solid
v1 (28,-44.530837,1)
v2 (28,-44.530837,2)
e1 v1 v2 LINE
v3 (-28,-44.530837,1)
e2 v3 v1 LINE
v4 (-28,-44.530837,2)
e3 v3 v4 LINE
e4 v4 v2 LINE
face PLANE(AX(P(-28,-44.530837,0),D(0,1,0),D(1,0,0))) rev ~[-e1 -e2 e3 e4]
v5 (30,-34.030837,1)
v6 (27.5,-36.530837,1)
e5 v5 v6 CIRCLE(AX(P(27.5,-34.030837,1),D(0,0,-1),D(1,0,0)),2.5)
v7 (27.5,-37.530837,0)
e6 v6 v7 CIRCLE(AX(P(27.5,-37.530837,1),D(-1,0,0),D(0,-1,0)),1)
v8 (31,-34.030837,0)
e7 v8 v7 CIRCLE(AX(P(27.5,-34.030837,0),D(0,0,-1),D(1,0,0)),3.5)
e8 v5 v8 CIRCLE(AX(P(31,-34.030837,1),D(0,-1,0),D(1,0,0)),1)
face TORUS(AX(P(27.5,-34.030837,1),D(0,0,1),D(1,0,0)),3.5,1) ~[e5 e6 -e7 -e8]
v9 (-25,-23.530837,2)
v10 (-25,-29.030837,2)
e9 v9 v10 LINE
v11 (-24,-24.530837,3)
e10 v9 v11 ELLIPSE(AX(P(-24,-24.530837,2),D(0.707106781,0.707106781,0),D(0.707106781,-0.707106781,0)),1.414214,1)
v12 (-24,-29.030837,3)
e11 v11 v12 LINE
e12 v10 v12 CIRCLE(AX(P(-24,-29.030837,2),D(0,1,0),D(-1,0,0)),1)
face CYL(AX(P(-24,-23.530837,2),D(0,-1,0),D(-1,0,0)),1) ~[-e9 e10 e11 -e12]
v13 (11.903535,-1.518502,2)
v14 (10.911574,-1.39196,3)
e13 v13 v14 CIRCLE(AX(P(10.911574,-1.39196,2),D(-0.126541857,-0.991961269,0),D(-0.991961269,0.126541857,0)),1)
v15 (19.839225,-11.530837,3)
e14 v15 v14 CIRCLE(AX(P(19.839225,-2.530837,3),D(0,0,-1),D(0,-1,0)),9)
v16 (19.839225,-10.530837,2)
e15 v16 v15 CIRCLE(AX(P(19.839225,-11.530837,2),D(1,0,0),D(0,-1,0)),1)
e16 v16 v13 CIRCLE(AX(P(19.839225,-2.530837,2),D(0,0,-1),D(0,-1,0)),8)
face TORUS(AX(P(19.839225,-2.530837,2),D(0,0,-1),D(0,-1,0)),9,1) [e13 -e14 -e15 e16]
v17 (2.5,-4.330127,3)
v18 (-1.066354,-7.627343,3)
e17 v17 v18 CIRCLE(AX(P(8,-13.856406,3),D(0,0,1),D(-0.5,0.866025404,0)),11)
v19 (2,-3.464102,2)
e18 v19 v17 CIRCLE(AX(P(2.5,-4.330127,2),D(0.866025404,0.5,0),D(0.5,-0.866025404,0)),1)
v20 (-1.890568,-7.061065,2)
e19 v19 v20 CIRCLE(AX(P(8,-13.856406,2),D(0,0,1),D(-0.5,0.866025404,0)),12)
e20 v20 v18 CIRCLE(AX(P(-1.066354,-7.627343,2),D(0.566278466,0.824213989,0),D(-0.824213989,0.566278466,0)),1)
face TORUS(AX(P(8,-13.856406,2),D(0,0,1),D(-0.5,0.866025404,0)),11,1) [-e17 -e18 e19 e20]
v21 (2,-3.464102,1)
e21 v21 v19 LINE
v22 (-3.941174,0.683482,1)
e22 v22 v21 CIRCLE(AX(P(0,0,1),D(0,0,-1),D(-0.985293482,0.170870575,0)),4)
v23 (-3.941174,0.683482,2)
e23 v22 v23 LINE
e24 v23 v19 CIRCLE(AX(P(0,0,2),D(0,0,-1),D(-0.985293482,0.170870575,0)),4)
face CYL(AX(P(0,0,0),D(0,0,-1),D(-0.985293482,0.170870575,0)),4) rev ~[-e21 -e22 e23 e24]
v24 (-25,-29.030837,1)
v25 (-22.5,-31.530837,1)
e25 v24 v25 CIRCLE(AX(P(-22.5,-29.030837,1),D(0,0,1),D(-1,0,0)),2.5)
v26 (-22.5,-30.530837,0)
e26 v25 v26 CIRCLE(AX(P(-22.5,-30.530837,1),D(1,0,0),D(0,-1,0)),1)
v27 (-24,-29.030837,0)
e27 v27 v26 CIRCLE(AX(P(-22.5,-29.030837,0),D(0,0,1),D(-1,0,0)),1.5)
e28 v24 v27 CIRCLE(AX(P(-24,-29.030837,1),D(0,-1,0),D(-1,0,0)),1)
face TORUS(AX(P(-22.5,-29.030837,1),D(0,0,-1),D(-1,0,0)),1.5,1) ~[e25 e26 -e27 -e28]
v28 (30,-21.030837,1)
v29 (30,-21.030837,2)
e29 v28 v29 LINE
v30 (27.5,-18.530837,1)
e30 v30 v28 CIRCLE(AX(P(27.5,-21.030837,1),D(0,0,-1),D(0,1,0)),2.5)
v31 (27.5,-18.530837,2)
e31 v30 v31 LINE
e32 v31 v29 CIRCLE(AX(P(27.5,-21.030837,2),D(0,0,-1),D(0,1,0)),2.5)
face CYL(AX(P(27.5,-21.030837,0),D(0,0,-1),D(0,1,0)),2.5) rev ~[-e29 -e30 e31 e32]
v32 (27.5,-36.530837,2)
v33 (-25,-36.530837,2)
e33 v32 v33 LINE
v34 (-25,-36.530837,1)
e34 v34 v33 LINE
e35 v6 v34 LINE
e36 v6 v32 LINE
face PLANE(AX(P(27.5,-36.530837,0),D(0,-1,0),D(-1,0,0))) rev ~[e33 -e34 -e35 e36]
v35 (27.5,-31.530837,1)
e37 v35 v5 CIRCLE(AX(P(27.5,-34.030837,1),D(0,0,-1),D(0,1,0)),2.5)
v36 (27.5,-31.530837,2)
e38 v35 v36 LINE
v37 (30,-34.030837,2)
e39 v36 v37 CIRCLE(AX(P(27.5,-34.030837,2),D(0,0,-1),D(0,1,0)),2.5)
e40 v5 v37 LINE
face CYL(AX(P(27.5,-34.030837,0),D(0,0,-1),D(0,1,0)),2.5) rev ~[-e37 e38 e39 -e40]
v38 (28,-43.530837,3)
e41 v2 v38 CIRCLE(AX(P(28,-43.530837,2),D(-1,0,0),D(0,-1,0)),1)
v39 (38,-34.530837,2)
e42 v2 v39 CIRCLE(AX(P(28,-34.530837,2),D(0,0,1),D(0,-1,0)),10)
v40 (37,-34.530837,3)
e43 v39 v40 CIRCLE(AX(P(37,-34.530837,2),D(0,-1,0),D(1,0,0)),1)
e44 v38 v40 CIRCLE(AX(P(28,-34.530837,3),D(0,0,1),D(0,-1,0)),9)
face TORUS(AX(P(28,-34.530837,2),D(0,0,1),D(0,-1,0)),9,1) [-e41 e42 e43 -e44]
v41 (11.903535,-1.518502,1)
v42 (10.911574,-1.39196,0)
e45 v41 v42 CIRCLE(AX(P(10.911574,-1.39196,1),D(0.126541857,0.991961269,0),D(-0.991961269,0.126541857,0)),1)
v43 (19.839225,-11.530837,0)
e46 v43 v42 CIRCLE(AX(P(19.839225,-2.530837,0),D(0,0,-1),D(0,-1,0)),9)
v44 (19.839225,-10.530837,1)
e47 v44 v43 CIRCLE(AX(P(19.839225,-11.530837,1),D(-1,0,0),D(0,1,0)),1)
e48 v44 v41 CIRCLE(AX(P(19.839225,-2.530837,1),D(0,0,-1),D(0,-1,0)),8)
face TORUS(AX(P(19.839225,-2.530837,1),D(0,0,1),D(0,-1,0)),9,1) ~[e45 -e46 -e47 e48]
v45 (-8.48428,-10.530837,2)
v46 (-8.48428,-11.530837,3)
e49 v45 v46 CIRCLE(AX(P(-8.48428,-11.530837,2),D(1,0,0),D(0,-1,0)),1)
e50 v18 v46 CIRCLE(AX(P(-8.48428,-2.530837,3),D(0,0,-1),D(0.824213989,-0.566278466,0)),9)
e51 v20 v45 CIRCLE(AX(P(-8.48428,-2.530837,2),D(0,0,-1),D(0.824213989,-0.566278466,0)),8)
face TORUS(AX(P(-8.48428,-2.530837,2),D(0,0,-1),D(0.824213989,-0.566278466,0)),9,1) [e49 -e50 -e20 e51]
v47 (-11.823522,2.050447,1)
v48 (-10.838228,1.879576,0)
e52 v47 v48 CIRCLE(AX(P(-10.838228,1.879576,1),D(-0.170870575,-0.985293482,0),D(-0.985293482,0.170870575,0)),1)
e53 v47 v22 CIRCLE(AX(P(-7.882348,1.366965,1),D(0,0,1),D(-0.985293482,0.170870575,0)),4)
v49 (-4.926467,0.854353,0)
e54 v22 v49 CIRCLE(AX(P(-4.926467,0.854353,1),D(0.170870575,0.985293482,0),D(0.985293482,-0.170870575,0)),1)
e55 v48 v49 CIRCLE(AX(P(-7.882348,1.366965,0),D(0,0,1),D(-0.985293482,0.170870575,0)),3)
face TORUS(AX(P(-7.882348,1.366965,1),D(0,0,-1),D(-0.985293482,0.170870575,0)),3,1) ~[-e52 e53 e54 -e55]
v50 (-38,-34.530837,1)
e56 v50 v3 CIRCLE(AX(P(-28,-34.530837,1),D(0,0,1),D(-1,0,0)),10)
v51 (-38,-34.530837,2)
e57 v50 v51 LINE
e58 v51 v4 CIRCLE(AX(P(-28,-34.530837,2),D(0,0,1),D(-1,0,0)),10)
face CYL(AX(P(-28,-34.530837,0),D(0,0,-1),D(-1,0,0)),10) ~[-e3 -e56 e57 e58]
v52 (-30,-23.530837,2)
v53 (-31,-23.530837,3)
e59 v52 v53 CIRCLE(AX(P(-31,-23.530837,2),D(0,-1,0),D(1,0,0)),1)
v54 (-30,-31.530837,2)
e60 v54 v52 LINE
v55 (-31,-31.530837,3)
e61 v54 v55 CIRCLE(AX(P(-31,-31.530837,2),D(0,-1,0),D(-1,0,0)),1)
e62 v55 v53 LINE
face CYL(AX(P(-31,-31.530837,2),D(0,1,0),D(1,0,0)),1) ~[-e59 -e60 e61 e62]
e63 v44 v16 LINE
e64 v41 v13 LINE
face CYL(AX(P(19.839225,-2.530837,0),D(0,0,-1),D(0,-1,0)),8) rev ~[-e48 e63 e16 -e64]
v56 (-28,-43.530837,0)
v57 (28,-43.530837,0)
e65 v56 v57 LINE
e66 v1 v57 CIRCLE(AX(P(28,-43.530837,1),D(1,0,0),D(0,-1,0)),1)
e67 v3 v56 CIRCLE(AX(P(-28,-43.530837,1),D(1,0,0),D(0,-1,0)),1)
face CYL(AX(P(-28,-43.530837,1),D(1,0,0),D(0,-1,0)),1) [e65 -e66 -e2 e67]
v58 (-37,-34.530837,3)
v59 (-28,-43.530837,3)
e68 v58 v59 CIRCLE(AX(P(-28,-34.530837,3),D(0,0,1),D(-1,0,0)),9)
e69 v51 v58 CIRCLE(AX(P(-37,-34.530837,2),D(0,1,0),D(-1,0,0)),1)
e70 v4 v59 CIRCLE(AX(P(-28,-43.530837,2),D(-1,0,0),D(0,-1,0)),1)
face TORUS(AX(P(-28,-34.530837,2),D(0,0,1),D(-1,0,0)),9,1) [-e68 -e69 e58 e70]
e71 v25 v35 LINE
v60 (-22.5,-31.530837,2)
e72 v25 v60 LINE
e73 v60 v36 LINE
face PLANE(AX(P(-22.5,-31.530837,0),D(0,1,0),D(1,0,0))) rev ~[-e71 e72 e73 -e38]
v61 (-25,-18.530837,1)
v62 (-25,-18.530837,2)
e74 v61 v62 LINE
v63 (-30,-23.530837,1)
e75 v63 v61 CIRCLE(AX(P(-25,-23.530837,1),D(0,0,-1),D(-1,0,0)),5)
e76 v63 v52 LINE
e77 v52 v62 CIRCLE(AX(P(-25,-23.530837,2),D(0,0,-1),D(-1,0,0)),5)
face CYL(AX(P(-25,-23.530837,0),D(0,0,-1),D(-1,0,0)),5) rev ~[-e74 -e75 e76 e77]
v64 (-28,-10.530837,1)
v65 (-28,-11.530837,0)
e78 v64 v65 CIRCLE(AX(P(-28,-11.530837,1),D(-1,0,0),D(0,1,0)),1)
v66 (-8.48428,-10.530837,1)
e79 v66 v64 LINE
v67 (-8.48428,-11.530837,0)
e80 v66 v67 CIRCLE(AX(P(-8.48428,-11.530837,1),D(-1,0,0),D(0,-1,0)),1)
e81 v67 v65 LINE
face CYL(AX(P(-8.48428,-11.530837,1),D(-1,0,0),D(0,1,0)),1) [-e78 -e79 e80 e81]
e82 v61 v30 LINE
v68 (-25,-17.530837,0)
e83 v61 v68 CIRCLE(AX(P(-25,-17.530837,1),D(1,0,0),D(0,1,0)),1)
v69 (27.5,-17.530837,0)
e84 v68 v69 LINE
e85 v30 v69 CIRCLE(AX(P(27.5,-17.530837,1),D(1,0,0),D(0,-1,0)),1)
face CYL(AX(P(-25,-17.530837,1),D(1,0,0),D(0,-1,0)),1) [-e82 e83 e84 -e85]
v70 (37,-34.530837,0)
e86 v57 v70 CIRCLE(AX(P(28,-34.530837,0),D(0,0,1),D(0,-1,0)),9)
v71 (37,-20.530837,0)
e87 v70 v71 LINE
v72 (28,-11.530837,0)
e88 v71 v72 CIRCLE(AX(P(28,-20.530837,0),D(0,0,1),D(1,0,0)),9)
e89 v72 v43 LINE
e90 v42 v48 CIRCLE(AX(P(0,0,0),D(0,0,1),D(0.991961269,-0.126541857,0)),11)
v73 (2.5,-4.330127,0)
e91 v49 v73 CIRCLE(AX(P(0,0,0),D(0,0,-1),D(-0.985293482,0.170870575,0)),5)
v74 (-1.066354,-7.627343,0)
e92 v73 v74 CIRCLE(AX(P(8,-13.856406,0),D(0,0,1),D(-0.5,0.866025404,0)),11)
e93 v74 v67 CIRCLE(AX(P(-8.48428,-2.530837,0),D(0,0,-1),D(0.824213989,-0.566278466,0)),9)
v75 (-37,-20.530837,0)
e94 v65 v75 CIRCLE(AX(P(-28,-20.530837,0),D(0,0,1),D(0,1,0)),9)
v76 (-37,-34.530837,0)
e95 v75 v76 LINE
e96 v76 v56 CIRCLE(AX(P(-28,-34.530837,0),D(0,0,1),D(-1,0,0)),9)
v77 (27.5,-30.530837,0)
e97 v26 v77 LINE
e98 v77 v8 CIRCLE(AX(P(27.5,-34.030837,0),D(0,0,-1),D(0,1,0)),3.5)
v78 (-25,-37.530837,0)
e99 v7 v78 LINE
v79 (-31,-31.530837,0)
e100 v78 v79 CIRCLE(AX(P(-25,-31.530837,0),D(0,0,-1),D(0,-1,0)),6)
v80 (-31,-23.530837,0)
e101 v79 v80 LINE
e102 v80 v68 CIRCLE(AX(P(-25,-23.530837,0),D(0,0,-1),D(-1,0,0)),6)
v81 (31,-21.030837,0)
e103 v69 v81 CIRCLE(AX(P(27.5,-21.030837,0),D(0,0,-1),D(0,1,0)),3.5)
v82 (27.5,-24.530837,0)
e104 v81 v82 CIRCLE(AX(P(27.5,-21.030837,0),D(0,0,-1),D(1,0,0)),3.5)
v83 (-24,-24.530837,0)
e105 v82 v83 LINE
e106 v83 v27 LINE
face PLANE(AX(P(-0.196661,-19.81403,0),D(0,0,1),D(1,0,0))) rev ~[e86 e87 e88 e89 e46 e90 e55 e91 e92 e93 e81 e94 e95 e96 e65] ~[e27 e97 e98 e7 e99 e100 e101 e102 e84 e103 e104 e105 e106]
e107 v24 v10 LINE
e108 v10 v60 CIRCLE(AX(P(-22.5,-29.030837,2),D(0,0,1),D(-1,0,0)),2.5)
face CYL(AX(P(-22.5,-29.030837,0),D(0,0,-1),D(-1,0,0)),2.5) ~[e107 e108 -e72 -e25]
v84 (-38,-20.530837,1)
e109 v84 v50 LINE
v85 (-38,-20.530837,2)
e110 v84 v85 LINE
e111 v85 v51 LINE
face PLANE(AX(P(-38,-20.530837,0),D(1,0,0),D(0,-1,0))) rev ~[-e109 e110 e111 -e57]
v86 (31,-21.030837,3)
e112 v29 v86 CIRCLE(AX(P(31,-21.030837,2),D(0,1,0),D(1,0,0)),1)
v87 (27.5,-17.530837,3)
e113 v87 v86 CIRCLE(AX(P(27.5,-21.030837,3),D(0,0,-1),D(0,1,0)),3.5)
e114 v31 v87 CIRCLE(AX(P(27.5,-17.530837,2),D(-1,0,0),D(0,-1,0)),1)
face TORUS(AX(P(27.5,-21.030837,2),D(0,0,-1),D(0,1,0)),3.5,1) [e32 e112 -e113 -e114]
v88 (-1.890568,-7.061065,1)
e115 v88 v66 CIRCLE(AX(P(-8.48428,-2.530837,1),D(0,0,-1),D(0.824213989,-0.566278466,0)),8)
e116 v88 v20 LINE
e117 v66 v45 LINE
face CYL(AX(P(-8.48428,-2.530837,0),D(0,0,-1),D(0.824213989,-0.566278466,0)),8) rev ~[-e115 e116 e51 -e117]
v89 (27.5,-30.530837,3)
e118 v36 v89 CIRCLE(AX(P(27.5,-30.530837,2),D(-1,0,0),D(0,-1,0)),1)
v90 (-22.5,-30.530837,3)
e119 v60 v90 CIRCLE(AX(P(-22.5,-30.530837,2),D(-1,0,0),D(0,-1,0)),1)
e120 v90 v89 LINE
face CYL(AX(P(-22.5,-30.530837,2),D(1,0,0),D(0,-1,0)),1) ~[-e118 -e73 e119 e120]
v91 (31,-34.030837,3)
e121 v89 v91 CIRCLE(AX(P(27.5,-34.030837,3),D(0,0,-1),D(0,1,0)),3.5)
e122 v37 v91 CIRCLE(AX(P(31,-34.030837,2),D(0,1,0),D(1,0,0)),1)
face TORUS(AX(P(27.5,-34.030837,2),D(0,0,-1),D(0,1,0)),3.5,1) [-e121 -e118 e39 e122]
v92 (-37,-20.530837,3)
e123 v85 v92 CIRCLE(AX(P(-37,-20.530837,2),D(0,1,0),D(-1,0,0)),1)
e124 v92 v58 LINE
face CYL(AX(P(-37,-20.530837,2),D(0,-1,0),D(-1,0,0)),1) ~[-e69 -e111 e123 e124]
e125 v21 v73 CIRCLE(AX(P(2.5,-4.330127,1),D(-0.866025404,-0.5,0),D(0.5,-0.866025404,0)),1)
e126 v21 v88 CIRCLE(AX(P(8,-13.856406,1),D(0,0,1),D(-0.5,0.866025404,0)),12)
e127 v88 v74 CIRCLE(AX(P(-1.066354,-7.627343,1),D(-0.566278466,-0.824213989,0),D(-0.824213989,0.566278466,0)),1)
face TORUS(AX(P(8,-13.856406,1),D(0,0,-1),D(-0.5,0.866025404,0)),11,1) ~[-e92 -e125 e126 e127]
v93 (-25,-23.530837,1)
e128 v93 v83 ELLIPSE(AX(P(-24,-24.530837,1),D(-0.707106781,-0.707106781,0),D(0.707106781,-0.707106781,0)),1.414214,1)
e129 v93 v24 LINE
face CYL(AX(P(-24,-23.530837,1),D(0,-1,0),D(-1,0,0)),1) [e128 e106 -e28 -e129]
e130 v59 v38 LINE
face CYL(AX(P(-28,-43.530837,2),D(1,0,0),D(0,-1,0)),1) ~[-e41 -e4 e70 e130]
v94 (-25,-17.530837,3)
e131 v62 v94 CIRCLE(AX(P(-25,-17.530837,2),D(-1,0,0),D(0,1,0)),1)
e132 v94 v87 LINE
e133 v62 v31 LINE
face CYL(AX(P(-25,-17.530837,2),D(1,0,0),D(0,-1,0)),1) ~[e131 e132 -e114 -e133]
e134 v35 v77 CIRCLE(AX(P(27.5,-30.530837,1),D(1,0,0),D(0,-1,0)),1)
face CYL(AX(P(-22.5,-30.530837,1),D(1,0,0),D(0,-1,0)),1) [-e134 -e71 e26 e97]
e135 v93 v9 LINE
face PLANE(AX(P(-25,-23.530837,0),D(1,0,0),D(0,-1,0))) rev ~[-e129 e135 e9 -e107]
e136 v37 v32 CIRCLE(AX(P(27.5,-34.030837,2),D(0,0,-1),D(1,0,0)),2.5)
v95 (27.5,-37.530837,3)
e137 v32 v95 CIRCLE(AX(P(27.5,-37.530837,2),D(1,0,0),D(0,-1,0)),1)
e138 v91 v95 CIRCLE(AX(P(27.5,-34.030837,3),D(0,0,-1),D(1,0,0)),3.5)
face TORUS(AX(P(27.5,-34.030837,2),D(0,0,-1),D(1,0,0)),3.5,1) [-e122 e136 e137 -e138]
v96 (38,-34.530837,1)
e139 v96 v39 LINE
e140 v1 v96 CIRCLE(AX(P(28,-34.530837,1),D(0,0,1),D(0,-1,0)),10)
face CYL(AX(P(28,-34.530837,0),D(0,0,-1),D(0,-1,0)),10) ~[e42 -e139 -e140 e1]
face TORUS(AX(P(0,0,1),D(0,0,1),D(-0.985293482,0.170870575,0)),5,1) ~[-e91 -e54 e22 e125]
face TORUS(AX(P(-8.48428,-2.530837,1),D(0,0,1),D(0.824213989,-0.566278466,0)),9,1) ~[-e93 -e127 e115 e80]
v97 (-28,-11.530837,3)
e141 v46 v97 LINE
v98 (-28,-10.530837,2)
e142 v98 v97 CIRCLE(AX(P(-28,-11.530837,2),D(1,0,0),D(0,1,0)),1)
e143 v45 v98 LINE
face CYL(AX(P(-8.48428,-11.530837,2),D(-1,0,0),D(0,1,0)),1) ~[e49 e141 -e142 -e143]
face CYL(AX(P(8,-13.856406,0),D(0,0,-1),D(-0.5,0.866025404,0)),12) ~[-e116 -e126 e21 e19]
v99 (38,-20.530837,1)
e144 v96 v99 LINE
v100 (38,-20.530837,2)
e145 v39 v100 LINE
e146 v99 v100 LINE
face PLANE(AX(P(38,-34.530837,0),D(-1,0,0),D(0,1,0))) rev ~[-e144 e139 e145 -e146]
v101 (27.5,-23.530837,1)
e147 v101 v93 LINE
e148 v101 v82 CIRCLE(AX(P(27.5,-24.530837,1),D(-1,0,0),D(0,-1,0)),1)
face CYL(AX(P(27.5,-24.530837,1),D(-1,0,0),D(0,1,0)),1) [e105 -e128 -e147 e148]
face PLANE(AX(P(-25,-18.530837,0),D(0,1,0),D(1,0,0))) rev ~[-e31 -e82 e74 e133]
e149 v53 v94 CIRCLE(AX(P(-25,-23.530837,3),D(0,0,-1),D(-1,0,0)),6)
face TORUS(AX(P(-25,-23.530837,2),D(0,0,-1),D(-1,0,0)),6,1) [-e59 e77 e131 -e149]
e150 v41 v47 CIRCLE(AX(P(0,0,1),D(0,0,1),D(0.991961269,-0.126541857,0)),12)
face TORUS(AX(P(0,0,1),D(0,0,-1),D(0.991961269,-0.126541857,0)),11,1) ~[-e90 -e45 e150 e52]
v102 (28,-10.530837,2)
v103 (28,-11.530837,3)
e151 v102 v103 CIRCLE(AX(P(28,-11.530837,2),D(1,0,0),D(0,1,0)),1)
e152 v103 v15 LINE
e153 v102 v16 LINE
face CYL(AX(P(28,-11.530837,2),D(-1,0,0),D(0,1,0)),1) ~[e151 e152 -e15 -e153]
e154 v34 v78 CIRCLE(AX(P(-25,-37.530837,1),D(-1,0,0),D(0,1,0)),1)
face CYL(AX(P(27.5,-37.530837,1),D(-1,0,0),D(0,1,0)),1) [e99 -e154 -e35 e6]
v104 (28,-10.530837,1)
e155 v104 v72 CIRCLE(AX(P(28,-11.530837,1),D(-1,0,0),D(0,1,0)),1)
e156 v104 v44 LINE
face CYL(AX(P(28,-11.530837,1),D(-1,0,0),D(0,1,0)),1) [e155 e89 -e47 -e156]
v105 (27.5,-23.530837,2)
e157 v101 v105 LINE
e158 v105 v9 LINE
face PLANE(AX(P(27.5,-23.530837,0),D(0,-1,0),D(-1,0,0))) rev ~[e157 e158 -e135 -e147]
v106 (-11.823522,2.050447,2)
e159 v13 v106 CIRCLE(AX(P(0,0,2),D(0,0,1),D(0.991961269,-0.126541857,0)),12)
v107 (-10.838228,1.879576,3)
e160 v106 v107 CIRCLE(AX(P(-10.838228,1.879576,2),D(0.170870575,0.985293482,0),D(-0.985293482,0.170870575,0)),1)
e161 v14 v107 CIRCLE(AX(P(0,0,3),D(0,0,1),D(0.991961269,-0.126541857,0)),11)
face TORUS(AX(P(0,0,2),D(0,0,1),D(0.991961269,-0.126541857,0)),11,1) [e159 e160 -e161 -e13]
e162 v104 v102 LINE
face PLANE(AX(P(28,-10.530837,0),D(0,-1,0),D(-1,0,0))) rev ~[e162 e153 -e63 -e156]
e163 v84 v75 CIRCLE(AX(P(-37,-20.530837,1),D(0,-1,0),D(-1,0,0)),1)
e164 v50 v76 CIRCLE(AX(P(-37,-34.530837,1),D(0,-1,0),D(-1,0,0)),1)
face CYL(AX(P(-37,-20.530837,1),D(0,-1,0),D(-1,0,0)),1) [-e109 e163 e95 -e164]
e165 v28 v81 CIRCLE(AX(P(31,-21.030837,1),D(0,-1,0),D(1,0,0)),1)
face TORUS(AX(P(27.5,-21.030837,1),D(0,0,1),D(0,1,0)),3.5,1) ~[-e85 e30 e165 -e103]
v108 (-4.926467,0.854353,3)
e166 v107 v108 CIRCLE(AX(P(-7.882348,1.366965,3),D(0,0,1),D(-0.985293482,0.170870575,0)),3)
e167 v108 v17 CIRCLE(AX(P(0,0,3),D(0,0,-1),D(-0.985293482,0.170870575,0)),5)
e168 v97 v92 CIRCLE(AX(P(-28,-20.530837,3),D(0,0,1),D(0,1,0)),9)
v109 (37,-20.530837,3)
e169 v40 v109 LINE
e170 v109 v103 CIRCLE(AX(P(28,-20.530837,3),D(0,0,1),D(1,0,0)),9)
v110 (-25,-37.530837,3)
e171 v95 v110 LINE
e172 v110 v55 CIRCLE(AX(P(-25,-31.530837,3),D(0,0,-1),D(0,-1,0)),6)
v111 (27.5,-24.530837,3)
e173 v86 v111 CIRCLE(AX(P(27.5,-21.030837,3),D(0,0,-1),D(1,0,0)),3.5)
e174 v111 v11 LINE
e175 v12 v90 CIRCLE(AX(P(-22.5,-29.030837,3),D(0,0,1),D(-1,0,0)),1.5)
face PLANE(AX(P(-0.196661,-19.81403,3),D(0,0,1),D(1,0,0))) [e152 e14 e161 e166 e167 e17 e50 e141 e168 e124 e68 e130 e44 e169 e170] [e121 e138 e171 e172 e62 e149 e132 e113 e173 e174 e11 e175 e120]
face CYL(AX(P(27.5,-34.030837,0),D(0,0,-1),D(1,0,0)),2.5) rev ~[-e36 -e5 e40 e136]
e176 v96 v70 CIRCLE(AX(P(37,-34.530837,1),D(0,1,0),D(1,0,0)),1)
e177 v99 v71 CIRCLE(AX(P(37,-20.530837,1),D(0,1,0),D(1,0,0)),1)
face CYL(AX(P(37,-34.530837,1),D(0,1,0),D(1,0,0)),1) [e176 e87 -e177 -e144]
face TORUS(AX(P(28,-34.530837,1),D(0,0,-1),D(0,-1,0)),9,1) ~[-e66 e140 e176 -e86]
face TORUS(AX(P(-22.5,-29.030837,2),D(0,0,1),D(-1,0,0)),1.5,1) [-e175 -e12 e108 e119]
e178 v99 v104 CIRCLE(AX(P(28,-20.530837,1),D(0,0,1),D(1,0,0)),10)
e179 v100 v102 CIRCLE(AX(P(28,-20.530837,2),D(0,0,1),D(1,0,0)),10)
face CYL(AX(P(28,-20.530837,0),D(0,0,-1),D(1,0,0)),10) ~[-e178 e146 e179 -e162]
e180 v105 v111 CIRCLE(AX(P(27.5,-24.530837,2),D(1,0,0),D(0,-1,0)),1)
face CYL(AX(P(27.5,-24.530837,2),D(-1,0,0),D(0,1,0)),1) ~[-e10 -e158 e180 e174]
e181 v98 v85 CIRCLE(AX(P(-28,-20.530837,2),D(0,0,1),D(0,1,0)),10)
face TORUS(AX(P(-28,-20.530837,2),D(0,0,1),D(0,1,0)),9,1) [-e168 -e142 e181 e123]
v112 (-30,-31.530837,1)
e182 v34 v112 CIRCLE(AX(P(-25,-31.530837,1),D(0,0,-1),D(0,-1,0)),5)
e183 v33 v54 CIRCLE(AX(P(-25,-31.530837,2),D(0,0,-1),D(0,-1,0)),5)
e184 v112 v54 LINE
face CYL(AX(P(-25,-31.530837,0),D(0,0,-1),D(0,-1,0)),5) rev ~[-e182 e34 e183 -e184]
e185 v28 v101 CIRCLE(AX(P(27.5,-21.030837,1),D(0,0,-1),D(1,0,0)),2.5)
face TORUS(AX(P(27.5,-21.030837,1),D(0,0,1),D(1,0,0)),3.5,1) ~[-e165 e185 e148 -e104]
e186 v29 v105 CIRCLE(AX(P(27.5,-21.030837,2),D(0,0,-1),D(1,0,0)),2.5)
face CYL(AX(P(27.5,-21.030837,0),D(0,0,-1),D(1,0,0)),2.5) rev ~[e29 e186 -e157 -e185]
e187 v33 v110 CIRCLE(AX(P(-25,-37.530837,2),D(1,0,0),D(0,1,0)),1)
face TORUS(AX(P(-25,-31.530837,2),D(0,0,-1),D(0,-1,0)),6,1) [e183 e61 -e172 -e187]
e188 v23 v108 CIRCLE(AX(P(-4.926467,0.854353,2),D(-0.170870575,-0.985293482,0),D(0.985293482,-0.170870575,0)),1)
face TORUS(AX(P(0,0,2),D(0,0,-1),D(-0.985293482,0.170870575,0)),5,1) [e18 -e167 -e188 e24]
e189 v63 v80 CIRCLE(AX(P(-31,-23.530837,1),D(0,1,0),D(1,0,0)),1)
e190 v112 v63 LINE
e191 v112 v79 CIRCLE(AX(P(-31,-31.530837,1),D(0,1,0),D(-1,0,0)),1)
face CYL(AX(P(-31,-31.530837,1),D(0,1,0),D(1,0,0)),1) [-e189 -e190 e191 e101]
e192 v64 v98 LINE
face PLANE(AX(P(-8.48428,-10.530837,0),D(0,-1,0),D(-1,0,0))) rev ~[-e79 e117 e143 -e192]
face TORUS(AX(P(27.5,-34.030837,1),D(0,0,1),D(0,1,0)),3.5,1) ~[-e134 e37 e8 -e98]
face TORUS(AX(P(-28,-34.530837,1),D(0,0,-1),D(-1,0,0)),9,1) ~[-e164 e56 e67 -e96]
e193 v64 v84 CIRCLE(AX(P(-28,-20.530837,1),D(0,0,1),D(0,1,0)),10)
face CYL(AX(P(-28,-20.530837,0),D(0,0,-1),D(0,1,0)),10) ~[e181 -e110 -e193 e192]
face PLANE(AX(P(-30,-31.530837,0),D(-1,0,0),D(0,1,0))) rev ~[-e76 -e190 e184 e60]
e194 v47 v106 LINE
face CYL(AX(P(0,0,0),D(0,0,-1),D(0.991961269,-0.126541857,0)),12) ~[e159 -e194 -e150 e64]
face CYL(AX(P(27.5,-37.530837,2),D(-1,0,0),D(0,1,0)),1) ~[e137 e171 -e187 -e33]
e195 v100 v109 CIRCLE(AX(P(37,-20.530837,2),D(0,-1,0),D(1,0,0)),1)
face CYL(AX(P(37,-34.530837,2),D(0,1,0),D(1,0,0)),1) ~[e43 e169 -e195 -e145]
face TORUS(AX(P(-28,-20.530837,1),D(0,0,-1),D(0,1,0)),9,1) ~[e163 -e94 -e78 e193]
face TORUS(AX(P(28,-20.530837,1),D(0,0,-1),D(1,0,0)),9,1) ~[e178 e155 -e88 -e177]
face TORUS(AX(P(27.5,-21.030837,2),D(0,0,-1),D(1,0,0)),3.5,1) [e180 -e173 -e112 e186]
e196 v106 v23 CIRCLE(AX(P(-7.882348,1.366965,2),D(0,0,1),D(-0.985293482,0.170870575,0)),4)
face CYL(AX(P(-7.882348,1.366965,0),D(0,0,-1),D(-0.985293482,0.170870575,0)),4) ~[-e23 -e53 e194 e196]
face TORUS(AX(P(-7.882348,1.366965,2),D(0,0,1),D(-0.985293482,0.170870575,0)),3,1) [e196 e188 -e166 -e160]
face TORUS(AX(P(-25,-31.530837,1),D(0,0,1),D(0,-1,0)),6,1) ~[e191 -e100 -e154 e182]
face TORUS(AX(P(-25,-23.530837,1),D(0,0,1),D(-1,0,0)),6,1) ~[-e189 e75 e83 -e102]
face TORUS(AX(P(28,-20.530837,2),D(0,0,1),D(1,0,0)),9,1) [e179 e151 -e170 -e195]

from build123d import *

# Parameters (mm, degrees)
F1_DEPTH = 3
F2_DEPTH = 3
F3_R     = 1


with BuildPart() as f1:
    # F0 (on Top) → F1 (new body)
    with BuildSketch(Plane.XY):
        with BuildLine():
            ThreePointArc((-3.9411739298, 0.6834823003), (2.2896838516, 3.2798396088), (2, -3.4641016151))
            ThreePointArc((2, -3.4641016151), (-0.1462919753, -5.0451677818), (-1.890567866, -7.0610648733))
            ThreePointArc((-1.890567866, -7.0610648733), (-4.7588148258, -9.6104494895), (-8.4842797767, -10.5308371484))
            Line((-8.4842797767, -10.5308371484), (-28, -10.5308371484))
            ThreePointArc((-28, -10.5308371484), (-35.0710678119, -13.4597693366), (-38, -20.5308371484))
            Line((-38, -20.5308371484), (-38, -34.5308371484))
            ThreePointArc((-38, -34.5308371484), (-35.0710678119, -41.6019049603), (-28, -44.5308371484))
            Line((-28, -44.5308371484), (28, -44.5308371484))
            ThreePointArc((28, -44.5308371484), (35.0710678119, -41.6019049603), (38, -34.5308371484))
            Line((38, -34.5308371484), (38, -20.5308371484))
            ThreePointArc((38, -20.5308371484), (35.0710678119, -13.4597693366), (28, -10.5308371484))
            Line((28, -10.5308371484), (19.8392253712, -10.5308371484))
            ThreePointArc((19.8392253712, -10.5308371484), (13.8351151592, -7.8176755763), (11.9035352227, -1.5185022891))
            ThreePointArc((11.9035352227, -1.5185022891), (1.7849230004, 11.8665095914), (-11.8235217895, 2.0504469009))
            ThreePointArc((-11.8235217895, 2.0504469009), (-8.56583016, -2.5742093293), (-3.9411739298, 0.6834823003))
        make_face()
        with BuildLine():
            Line((-30, -31.5308371484), (-30, -23.5308371484))
            ThreePointArc((-30, -23.5308371484), (-28.5355339059, -19.9953032425), (-25, -18.5308371484))
            Line((-25, -18.5308371484), (27.5, -18.5308371484))
            ThreePointArc((27.5, -18.5308371484), (29.267766953, -19.2630701955), (30, -21.0308371484))
            ThreePointArc((30, -21.0308371484), (29.267766953, -22.7986041014), (27.5, -23.5308371484))
            Line((27.5, -23.5308371484), (-25, -23.5308371484))
            Line((-25, -23.5308371484), (-25, -29.0308371484))
            ThreePointArc((-25, -29.0308371484), (-24.267766953, -30.7986041014), (-22.5, -31.5308371484))
            Line((-22.5, -31.5308371484), (27.5, -31.5308371484))
            ThreePointArc((27.5, -31.5308371484), (29.267766953, -32.2630701955), (30, -34.0308371484))
            ThreePointArc((30, -34.0308371484), (29.267766953, -35.7986041014), (27.5, -36.5308371484))
            Line((27.5, -36.5308371484), (-25, -36.5308371484))
            ThreePointArc((-25, -36.5308371484), (-28.5355339059, -35.0663710544), (-30, -31.5308371484))
        make_face(mode=Mode.SUBTRACT)
    extrude(amount=F1_DEPTH)

    # F0 (on Top) → F2 (cut)
    with BuildSketch(Plane.XY):
        with BuildLine():
            ThreePointArc((-25, -18.5308371484), (-28.5355339059, -19.9953032425), (-30, -23.5308371484))
            Line((-30, -23.5308371484), (-30, -31.5308371484))
            ThreePointArc((-30, -31.5308371484), (-28.5355339059, -35.0663710544), (-25, -36.5308371484))
            Line((-25, -36.5308371484), (27.5, -36.5308371484))
            ThreePointArc((27.5, -36.5308371484), (29.267766953, -35.7986041014), (30, -34.0308371484))
            ThreePointArc((30, -34.0308371484), (29.267766953, -32.2630701955), (27.5, -31.5308371484))
            Line((27.5, -31.5308371484), (-22.5, -31.5308371484))
            ThreePointArc((-22.5, -31.5308371484), (-24.267766953, -30.7986041014), (-25, -29.0308371484))
            Line((-25, -29.0308371484), (-25, -23.5308371484))
            Line((-25, -23.5308371484), (27.5, -23.5308371484))
            ThreePointArc((27.5, -23.5308371484), (29.267766953, -22.7986041014), (30, -21.0308371484))
            ThreePointArc((30, -21.0308371484), (29.267766953, -19.2630701955), (27.5, -18.5308371484))
            Line((27.5, -18.5308371484), (-25, -18.5308371484))
        make_face()
    extrude(amount=-F2_DEPTH, mode=Mode.SUBTRACT)

    # F3
    f3_edges = [f1.edges().sort_by_distance(p)[0] for p in [
        (2.5, -31.530837, 3),
        (13.835115, -7.817676, 3),
        (1.25, -18.530837, 0),
        (-8.56583, -2.574209, 0),
    ]]
    fillet(f3_edges, radius=F3_R)


solid = f1.part
